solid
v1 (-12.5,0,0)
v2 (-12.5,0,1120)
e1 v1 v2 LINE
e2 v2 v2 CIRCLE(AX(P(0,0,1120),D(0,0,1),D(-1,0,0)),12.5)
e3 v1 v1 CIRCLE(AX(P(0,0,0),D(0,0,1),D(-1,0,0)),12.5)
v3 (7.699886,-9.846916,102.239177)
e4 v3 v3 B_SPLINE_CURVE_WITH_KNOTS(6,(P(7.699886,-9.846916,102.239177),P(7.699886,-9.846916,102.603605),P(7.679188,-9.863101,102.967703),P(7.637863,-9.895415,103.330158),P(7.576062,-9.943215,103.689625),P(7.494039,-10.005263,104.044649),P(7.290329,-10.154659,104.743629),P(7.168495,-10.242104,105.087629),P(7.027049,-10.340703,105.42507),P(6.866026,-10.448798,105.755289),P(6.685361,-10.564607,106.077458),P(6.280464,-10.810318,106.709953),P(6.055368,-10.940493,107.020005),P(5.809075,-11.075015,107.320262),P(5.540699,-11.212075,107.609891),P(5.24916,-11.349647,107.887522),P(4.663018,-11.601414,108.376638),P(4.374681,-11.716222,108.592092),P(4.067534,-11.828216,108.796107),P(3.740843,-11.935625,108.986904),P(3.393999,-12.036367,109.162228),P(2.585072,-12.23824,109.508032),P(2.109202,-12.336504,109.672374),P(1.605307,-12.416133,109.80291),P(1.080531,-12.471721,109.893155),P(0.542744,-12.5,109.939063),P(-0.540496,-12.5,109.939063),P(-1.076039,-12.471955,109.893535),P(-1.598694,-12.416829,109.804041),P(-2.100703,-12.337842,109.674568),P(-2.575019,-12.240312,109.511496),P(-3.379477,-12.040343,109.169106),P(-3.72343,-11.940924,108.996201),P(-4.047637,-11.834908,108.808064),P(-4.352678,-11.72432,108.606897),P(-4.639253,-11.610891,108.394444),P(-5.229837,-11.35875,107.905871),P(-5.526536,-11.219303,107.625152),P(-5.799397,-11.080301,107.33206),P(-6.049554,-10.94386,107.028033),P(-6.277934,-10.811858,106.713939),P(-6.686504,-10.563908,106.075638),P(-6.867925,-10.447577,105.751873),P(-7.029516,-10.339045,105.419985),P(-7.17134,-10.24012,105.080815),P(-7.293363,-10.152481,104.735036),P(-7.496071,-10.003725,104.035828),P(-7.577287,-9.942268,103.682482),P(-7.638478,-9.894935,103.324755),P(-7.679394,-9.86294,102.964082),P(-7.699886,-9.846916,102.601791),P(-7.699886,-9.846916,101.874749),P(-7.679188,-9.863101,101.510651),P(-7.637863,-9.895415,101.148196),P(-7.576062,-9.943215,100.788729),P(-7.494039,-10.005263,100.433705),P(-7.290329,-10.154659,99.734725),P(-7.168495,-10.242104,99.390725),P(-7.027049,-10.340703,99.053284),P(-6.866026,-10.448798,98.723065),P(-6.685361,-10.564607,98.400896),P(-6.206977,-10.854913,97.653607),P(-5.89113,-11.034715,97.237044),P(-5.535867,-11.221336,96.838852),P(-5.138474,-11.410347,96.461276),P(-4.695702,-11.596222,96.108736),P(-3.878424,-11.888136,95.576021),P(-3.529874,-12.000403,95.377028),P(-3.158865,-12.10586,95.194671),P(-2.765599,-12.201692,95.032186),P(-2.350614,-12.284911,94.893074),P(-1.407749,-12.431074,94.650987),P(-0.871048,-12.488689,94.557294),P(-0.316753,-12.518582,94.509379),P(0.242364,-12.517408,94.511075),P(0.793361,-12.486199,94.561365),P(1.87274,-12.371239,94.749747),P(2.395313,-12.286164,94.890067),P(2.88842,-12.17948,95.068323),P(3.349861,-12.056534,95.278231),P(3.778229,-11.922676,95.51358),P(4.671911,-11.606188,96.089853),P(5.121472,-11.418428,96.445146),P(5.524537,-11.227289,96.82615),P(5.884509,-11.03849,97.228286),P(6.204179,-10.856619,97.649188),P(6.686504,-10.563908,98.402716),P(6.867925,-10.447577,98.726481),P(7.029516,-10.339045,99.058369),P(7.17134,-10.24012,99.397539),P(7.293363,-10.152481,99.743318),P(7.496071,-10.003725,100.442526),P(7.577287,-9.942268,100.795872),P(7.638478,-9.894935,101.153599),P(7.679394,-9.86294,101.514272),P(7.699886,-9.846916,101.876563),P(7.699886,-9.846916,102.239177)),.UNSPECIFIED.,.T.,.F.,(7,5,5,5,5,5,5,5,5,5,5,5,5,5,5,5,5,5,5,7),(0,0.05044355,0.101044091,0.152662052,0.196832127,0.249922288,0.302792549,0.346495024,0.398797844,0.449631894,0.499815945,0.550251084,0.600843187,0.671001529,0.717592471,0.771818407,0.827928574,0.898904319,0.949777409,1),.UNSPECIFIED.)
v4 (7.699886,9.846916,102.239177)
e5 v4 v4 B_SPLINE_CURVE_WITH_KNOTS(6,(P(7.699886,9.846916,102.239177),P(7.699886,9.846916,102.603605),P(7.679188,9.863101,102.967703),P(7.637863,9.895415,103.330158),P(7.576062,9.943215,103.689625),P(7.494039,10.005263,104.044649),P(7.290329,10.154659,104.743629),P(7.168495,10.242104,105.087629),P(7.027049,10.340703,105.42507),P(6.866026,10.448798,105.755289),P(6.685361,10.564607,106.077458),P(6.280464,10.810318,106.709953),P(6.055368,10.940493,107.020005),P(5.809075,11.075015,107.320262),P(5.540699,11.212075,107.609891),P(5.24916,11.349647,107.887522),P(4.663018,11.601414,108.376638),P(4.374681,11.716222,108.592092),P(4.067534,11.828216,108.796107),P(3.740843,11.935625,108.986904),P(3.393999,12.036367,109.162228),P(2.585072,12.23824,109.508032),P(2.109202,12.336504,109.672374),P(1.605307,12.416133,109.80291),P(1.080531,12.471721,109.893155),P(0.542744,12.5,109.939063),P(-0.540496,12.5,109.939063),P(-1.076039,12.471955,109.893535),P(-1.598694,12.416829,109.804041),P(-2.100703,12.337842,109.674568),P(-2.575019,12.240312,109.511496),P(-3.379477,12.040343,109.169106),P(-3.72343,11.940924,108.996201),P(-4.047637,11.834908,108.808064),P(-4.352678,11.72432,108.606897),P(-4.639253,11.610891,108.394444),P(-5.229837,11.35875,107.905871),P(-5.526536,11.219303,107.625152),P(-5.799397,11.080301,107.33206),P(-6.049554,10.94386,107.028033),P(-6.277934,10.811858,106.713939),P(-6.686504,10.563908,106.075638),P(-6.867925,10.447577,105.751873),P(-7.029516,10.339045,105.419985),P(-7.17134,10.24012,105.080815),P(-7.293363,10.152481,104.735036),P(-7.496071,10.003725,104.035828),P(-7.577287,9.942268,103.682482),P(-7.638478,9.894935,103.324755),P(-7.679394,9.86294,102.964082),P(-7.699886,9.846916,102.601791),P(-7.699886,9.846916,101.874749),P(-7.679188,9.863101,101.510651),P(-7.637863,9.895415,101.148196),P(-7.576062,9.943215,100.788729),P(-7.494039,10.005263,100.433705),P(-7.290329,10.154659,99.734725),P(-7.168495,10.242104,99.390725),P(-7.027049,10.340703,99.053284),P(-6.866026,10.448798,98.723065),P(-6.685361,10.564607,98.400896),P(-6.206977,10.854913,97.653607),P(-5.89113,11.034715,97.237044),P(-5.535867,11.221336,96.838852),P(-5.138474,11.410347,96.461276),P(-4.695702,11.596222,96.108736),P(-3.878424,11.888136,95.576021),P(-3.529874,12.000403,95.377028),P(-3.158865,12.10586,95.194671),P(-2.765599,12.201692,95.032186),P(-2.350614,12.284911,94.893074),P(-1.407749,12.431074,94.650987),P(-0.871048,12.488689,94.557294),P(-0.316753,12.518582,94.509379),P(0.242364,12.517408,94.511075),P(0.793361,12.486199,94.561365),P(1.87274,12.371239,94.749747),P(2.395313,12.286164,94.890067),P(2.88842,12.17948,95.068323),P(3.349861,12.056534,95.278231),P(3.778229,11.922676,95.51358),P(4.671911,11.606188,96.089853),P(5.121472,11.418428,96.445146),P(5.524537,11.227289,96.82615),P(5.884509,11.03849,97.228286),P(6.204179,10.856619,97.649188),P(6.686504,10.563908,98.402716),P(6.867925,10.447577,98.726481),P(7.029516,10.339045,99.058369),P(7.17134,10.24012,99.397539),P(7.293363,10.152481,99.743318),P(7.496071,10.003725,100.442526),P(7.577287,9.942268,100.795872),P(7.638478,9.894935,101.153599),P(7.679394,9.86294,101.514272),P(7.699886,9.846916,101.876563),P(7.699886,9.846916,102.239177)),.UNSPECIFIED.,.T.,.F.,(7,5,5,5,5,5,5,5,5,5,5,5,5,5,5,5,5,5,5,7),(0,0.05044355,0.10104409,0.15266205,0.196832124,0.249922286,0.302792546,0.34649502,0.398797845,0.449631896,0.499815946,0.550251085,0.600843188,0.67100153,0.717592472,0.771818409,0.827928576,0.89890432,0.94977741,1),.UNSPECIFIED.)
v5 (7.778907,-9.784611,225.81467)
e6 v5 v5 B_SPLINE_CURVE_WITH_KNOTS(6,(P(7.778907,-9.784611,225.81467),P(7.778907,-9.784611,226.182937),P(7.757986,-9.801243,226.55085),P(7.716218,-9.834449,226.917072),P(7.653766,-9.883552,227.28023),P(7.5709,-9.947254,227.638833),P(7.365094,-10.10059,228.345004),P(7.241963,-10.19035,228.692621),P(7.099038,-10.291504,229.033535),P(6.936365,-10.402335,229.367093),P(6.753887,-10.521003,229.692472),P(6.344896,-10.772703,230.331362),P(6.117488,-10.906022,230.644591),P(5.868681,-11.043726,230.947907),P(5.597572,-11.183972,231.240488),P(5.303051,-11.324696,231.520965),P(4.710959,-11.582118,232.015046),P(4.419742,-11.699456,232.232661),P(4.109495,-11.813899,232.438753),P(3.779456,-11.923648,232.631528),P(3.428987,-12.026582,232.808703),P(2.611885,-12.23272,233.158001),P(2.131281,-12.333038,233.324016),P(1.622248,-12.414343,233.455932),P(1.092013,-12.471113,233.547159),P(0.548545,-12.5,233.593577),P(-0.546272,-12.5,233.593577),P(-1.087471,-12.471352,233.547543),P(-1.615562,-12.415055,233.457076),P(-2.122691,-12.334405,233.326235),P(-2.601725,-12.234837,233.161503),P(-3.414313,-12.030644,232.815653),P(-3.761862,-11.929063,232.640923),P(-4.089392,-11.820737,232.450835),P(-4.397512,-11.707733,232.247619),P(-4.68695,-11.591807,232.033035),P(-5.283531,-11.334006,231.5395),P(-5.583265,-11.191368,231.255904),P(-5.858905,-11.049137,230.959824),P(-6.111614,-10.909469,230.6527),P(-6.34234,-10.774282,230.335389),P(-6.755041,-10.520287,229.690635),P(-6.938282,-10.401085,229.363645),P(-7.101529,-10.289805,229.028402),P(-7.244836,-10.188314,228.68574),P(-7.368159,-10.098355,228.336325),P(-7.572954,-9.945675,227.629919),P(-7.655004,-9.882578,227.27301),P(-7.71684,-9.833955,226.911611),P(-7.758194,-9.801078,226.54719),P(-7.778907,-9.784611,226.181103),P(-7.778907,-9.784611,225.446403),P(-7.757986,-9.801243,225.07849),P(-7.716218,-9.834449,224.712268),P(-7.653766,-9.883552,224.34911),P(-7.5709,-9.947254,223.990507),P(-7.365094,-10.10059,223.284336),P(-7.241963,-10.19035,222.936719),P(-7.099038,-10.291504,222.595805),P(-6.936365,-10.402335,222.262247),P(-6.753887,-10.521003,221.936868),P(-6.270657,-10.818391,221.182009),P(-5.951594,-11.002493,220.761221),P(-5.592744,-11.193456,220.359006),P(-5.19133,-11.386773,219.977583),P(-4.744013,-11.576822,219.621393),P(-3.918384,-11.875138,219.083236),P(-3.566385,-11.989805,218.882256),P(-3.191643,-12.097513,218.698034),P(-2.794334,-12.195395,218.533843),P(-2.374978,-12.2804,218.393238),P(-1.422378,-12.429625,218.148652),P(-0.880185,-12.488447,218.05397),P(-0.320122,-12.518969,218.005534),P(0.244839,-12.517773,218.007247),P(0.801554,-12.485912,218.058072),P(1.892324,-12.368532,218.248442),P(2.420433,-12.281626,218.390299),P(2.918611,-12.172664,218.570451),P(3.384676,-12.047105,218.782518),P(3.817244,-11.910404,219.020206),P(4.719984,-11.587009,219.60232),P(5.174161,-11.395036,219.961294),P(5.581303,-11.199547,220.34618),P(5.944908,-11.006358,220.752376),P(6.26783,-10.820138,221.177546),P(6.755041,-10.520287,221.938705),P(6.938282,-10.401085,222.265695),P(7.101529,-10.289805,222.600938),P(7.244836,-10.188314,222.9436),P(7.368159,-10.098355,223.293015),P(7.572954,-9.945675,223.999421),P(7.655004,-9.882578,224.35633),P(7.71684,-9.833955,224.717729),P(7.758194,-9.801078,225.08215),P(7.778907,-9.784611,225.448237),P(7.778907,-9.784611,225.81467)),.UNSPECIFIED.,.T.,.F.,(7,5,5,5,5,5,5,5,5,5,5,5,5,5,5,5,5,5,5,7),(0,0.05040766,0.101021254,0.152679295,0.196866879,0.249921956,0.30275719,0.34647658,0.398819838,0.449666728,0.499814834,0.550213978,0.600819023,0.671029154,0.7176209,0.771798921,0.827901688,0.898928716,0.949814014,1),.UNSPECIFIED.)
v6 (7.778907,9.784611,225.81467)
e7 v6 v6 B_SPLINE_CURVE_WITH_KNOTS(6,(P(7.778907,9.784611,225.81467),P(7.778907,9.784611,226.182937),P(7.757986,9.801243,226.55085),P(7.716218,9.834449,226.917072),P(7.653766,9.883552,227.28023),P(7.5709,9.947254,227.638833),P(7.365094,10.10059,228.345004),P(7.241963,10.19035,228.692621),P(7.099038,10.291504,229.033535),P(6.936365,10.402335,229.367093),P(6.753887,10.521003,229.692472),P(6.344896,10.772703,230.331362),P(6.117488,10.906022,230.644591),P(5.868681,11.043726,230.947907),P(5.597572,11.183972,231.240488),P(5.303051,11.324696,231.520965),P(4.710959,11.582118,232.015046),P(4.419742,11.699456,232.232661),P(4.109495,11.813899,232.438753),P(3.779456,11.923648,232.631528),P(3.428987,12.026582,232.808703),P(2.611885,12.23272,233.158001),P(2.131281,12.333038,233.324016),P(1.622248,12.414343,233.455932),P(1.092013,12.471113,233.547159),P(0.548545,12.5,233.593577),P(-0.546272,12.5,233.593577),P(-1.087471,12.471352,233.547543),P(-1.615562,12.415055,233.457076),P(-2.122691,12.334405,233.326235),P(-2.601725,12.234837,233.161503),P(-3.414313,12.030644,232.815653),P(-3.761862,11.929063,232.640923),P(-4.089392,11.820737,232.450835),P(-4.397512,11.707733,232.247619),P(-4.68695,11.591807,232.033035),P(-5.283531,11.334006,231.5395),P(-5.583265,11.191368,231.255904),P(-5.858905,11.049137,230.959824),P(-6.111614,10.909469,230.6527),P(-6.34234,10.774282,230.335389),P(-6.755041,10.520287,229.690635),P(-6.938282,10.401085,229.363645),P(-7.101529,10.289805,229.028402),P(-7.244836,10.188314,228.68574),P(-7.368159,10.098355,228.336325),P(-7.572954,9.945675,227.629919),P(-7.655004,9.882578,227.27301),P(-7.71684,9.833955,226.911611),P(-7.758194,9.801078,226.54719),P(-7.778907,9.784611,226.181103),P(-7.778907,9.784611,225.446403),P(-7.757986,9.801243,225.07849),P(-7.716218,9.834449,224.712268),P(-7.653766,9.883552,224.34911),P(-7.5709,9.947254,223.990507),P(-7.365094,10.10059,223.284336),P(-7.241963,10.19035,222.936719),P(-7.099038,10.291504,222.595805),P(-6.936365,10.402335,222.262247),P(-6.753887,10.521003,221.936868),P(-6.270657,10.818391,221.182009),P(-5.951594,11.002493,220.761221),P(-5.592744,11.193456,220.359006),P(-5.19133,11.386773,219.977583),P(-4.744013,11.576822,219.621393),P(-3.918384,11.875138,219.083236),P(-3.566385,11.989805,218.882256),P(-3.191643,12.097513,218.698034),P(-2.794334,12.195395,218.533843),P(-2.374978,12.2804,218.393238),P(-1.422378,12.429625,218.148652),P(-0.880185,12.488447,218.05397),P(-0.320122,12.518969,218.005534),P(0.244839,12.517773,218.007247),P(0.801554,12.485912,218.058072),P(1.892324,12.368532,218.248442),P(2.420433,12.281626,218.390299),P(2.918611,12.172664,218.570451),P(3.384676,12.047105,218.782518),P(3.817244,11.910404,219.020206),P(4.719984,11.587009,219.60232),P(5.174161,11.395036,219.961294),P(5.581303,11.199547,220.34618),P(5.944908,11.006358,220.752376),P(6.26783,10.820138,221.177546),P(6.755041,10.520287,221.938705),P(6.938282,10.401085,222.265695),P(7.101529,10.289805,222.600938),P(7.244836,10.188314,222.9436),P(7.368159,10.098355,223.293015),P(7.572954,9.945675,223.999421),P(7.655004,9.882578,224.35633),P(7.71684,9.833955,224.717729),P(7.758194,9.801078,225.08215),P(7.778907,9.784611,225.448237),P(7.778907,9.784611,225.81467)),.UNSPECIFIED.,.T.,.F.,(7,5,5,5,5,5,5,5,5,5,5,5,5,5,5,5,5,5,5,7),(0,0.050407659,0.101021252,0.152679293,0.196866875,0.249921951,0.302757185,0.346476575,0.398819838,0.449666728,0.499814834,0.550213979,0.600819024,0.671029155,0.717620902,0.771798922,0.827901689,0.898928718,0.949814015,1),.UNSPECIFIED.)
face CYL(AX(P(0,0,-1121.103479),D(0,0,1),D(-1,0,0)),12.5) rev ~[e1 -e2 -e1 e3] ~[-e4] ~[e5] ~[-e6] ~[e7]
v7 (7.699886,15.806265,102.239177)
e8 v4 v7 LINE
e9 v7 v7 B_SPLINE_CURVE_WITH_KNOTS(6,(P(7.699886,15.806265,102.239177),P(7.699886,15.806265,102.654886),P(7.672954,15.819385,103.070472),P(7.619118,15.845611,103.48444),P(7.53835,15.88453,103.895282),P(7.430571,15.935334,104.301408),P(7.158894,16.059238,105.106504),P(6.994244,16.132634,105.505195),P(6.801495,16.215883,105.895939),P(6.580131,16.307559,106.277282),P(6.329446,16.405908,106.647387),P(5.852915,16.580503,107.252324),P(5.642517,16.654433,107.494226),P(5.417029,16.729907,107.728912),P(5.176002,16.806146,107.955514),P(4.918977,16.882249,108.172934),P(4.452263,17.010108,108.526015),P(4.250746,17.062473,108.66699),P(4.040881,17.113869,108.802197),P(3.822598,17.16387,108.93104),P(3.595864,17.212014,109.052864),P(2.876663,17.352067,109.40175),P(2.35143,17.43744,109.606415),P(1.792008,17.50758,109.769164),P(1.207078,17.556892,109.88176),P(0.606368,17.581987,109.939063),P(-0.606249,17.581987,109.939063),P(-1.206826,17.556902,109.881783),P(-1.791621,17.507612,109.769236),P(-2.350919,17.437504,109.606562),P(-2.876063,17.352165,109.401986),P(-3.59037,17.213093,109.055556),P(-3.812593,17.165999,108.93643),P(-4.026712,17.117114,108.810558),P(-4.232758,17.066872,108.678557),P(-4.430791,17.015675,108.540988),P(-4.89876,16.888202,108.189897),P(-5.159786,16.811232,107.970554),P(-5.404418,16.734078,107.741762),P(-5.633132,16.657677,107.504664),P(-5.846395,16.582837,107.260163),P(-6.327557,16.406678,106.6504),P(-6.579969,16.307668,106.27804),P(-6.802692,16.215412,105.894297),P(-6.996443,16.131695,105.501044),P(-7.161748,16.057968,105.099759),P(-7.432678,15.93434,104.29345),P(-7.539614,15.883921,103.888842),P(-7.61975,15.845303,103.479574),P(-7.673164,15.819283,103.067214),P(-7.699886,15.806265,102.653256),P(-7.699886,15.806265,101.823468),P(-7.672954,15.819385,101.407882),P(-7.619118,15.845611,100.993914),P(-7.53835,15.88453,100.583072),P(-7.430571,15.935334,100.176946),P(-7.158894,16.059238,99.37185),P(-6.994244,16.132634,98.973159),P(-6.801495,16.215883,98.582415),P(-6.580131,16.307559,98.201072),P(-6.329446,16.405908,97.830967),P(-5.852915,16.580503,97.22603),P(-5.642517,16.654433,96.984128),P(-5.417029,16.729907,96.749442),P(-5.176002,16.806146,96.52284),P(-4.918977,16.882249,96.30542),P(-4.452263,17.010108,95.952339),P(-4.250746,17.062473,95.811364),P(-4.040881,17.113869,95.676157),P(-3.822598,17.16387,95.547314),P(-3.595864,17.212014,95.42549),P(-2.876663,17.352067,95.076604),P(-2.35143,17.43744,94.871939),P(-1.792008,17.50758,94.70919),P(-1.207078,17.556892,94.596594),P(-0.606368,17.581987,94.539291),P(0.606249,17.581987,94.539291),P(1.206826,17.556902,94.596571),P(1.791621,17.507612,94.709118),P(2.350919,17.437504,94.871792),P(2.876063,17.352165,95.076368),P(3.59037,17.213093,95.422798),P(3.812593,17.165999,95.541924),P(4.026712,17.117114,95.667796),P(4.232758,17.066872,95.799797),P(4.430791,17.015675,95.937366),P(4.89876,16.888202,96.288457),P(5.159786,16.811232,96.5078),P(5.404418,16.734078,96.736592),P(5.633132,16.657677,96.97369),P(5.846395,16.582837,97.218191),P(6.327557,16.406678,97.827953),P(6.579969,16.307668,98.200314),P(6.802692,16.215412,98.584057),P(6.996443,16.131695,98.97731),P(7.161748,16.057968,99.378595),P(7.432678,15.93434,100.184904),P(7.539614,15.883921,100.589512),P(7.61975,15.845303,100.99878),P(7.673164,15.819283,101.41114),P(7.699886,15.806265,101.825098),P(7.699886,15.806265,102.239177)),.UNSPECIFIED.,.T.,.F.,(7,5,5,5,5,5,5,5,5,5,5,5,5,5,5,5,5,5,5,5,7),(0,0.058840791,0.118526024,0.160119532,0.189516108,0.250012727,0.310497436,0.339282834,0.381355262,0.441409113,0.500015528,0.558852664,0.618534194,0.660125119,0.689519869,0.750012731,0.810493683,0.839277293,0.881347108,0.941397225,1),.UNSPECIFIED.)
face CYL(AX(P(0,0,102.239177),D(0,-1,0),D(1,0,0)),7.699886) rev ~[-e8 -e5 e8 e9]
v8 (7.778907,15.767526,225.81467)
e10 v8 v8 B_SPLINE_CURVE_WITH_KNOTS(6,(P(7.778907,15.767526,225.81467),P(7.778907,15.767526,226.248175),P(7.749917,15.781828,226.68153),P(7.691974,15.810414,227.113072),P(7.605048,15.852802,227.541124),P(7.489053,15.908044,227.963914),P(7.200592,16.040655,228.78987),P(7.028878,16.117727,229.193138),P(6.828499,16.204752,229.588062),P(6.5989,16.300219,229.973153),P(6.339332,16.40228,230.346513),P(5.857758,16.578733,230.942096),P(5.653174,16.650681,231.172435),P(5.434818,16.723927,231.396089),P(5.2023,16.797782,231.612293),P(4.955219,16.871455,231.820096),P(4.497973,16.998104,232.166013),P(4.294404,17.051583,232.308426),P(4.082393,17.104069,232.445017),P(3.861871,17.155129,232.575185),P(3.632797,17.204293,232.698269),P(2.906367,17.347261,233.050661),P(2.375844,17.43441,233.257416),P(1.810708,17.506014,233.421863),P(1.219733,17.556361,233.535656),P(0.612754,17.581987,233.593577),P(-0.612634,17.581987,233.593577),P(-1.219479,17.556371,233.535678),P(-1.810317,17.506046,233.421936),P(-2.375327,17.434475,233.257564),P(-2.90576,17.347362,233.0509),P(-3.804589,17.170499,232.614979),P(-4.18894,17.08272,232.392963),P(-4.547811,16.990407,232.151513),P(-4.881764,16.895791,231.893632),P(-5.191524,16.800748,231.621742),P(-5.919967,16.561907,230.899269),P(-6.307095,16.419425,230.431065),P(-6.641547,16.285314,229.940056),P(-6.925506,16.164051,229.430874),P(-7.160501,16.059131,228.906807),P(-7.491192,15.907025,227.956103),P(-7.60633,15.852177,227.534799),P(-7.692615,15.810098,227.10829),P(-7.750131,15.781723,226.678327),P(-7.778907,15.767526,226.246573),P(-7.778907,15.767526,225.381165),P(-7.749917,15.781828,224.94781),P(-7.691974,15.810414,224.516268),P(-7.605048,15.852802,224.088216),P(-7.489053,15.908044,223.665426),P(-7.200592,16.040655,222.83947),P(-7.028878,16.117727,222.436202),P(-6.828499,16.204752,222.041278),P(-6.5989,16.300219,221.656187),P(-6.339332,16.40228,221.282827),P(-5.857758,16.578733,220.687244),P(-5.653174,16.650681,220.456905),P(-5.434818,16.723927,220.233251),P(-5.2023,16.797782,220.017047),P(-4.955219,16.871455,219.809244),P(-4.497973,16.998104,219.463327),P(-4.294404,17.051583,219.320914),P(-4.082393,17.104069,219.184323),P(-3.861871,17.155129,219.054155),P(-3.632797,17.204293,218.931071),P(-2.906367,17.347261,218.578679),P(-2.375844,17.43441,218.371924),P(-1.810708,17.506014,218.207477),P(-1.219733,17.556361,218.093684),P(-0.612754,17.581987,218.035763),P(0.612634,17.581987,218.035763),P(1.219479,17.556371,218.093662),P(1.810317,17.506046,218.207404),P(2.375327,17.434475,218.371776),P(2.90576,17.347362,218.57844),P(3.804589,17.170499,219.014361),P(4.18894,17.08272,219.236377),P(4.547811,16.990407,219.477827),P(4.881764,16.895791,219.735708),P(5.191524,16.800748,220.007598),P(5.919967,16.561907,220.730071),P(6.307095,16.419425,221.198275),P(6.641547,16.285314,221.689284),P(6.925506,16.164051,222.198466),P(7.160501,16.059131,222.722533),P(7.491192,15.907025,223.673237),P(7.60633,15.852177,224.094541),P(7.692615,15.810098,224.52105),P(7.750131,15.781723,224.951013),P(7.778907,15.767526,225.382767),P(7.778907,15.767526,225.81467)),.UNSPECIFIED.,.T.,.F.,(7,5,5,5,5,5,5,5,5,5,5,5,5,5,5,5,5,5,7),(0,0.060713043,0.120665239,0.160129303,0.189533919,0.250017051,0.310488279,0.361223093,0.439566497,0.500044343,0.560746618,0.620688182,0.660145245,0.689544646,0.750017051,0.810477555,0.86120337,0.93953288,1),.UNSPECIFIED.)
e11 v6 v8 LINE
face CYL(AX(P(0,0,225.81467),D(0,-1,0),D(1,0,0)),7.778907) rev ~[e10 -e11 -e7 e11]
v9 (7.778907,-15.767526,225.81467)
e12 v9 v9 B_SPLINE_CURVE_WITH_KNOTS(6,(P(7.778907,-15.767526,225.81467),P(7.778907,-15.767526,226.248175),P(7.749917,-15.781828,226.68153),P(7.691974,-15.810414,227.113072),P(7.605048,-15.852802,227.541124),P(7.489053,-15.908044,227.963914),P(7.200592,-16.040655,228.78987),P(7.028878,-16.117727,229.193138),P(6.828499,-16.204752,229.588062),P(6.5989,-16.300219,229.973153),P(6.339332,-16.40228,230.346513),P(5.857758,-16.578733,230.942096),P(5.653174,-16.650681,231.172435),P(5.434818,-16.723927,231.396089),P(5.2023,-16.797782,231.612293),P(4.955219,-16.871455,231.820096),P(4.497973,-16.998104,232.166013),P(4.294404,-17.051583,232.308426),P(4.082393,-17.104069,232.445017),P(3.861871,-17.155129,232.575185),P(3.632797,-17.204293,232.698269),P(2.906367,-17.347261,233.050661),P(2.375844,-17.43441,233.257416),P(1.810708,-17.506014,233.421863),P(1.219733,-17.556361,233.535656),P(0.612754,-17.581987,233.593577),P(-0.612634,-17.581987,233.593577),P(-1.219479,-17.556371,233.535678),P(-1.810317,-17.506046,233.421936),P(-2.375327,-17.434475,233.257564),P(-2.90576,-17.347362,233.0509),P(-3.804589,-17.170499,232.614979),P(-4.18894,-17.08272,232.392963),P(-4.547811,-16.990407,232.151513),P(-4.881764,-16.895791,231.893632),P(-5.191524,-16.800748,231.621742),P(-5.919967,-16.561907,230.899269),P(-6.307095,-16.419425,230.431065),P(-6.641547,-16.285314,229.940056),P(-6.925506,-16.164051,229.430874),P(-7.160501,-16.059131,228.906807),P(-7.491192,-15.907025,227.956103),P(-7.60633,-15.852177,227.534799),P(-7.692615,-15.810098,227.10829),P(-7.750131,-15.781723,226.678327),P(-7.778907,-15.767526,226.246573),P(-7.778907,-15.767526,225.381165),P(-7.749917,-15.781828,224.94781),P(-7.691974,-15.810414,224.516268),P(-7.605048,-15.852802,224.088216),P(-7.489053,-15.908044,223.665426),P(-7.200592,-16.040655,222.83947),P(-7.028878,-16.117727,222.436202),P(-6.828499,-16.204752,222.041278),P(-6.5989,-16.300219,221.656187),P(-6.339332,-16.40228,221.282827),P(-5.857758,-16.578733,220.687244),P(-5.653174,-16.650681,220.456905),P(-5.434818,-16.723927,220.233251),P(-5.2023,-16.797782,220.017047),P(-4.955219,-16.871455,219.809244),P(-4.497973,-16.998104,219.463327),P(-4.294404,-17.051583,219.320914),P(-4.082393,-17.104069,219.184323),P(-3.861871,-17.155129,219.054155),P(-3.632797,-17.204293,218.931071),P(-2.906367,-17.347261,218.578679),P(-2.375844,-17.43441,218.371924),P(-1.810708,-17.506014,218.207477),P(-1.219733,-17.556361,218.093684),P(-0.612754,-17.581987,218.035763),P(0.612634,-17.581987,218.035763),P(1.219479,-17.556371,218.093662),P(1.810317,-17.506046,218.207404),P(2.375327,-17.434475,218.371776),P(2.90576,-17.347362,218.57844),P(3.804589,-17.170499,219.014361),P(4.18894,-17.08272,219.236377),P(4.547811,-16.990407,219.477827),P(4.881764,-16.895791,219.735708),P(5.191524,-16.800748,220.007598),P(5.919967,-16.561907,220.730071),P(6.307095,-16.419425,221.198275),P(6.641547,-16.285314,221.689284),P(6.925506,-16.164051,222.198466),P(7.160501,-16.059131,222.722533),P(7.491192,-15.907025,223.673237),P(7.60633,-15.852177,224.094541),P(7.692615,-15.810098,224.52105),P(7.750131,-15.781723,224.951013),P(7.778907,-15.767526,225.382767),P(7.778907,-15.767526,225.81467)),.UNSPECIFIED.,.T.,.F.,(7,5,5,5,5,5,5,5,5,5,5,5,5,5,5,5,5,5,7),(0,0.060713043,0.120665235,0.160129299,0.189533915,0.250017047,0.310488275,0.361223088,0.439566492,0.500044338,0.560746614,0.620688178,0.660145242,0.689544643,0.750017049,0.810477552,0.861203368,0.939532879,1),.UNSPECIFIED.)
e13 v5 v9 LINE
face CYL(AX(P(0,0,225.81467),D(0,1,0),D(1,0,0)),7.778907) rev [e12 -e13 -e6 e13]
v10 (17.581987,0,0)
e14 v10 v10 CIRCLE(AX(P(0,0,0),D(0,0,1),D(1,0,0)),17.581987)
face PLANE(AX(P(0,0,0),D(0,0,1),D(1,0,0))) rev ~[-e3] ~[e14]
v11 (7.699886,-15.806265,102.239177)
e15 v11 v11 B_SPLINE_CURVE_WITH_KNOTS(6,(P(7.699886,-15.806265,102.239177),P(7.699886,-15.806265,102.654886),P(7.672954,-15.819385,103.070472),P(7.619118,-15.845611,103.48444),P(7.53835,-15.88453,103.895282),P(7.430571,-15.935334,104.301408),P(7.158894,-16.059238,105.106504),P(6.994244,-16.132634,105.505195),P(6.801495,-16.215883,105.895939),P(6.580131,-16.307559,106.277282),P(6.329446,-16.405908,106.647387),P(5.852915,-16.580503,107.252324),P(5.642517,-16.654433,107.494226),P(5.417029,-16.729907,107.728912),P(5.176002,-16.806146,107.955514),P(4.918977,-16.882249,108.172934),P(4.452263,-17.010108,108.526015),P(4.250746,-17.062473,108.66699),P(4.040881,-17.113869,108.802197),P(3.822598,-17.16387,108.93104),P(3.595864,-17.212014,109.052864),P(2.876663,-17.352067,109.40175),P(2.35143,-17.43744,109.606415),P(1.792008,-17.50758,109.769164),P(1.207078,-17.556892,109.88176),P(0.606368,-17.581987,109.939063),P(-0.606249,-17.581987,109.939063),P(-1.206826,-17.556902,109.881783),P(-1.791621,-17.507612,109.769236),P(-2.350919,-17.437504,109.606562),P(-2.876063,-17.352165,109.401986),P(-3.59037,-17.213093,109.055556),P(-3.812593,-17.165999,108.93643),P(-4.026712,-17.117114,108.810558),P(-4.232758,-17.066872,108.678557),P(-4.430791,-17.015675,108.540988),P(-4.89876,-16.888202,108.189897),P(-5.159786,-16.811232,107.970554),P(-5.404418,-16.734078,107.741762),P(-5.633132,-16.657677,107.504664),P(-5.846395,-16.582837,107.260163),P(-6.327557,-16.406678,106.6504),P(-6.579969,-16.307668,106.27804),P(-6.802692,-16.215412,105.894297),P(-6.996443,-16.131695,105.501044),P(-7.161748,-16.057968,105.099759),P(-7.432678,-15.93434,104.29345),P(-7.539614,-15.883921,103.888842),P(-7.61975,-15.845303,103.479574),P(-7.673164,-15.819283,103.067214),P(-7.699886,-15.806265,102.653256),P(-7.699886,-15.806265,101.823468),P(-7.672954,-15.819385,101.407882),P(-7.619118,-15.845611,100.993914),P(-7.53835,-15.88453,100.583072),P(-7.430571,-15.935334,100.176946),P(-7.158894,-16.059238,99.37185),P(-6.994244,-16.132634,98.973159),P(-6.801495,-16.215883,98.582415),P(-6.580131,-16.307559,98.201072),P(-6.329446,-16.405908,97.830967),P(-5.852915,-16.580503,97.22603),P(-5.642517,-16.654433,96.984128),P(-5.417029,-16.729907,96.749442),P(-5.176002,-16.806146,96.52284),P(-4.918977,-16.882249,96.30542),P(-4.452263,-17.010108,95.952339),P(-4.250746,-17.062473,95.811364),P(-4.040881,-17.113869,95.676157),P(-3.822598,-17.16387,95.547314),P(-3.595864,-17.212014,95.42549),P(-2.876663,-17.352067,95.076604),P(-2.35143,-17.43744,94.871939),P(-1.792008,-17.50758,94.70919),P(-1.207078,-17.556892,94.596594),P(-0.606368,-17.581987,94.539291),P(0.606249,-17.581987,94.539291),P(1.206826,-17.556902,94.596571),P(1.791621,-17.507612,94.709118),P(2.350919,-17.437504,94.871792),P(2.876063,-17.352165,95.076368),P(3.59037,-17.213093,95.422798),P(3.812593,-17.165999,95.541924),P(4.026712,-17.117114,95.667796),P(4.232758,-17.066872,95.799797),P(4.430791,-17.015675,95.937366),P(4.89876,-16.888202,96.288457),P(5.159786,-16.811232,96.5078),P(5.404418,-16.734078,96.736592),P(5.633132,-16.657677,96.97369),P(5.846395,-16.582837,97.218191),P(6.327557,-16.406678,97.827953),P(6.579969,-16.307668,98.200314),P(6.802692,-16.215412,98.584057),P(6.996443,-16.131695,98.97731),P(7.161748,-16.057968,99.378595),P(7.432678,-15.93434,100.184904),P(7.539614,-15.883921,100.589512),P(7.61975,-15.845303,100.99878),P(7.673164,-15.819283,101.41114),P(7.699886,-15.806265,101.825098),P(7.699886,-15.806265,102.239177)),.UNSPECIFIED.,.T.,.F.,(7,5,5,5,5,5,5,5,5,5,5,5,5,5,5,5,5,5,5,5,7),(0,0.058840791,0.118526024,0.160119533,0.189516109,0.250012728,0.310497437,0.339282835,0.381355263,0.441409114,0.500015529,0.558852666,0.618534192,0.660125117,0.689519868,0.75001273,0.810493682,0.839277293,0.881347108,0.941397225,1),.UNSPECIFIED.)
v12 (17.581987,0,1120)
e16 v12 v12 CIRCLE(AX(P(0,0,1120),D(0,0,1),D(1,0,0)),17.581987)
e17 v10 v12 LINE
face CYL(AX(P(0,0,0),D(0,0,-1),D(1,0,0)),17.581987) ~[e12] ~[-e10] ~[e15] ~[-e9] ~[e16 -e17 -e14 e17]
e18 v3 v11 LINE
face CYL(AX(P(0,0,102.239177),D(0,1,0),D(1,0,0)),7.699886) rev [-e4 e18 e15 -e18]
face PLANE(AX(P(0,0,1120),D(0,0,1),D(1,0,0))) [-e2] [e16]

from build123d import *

# Parameters (mm, degrees)
F0_R     = 17.581987
F1_DEPTH = 1120
F2_D     = 25
F3_R     = 7.699886
F3_R_2   = 7.778907
F4_DEPTH = 100
F5_DEPTH = 25


with BuildPart() as f1:
    # F0 (on Top) → F1 (new body)
    with BuildSketch(Plane.XY):
        Circle(F0_R)
    extrude(amount=F1_DEPTH)

    # F2 (through all)
    with Locations(Plane(origin=(0, 0, 0), x_dir=(1, 0, 0), z_dir=(0, 0, -1))):
        with Locations((0, 0)):
            Hole(F2_D / 2)

    # F3 (on Front) → F4 (cut)
    with BuildSketch(Plane.XZ):
        with Locations((0, 102.239177)):
            Circle(F3_R)
        with Locations((0, 225.81467)):
            Circle(F3_R_2)
    extrude(amount=-F4_DEPTH, mode=Mode.SUBTRACT)

    # F3 (on Front) → F5 (cut)
    with BuildSketch(Plane.XZ):
        with Locations((0, 102.239177)):
            Circle(F3_R)
        with Locations((0, 225.81467)):
            Circle(F3_R_2)
    extrude(amount=F5_DEPTH, mode=Mode.SUBTRACT)


solid = f1.part
